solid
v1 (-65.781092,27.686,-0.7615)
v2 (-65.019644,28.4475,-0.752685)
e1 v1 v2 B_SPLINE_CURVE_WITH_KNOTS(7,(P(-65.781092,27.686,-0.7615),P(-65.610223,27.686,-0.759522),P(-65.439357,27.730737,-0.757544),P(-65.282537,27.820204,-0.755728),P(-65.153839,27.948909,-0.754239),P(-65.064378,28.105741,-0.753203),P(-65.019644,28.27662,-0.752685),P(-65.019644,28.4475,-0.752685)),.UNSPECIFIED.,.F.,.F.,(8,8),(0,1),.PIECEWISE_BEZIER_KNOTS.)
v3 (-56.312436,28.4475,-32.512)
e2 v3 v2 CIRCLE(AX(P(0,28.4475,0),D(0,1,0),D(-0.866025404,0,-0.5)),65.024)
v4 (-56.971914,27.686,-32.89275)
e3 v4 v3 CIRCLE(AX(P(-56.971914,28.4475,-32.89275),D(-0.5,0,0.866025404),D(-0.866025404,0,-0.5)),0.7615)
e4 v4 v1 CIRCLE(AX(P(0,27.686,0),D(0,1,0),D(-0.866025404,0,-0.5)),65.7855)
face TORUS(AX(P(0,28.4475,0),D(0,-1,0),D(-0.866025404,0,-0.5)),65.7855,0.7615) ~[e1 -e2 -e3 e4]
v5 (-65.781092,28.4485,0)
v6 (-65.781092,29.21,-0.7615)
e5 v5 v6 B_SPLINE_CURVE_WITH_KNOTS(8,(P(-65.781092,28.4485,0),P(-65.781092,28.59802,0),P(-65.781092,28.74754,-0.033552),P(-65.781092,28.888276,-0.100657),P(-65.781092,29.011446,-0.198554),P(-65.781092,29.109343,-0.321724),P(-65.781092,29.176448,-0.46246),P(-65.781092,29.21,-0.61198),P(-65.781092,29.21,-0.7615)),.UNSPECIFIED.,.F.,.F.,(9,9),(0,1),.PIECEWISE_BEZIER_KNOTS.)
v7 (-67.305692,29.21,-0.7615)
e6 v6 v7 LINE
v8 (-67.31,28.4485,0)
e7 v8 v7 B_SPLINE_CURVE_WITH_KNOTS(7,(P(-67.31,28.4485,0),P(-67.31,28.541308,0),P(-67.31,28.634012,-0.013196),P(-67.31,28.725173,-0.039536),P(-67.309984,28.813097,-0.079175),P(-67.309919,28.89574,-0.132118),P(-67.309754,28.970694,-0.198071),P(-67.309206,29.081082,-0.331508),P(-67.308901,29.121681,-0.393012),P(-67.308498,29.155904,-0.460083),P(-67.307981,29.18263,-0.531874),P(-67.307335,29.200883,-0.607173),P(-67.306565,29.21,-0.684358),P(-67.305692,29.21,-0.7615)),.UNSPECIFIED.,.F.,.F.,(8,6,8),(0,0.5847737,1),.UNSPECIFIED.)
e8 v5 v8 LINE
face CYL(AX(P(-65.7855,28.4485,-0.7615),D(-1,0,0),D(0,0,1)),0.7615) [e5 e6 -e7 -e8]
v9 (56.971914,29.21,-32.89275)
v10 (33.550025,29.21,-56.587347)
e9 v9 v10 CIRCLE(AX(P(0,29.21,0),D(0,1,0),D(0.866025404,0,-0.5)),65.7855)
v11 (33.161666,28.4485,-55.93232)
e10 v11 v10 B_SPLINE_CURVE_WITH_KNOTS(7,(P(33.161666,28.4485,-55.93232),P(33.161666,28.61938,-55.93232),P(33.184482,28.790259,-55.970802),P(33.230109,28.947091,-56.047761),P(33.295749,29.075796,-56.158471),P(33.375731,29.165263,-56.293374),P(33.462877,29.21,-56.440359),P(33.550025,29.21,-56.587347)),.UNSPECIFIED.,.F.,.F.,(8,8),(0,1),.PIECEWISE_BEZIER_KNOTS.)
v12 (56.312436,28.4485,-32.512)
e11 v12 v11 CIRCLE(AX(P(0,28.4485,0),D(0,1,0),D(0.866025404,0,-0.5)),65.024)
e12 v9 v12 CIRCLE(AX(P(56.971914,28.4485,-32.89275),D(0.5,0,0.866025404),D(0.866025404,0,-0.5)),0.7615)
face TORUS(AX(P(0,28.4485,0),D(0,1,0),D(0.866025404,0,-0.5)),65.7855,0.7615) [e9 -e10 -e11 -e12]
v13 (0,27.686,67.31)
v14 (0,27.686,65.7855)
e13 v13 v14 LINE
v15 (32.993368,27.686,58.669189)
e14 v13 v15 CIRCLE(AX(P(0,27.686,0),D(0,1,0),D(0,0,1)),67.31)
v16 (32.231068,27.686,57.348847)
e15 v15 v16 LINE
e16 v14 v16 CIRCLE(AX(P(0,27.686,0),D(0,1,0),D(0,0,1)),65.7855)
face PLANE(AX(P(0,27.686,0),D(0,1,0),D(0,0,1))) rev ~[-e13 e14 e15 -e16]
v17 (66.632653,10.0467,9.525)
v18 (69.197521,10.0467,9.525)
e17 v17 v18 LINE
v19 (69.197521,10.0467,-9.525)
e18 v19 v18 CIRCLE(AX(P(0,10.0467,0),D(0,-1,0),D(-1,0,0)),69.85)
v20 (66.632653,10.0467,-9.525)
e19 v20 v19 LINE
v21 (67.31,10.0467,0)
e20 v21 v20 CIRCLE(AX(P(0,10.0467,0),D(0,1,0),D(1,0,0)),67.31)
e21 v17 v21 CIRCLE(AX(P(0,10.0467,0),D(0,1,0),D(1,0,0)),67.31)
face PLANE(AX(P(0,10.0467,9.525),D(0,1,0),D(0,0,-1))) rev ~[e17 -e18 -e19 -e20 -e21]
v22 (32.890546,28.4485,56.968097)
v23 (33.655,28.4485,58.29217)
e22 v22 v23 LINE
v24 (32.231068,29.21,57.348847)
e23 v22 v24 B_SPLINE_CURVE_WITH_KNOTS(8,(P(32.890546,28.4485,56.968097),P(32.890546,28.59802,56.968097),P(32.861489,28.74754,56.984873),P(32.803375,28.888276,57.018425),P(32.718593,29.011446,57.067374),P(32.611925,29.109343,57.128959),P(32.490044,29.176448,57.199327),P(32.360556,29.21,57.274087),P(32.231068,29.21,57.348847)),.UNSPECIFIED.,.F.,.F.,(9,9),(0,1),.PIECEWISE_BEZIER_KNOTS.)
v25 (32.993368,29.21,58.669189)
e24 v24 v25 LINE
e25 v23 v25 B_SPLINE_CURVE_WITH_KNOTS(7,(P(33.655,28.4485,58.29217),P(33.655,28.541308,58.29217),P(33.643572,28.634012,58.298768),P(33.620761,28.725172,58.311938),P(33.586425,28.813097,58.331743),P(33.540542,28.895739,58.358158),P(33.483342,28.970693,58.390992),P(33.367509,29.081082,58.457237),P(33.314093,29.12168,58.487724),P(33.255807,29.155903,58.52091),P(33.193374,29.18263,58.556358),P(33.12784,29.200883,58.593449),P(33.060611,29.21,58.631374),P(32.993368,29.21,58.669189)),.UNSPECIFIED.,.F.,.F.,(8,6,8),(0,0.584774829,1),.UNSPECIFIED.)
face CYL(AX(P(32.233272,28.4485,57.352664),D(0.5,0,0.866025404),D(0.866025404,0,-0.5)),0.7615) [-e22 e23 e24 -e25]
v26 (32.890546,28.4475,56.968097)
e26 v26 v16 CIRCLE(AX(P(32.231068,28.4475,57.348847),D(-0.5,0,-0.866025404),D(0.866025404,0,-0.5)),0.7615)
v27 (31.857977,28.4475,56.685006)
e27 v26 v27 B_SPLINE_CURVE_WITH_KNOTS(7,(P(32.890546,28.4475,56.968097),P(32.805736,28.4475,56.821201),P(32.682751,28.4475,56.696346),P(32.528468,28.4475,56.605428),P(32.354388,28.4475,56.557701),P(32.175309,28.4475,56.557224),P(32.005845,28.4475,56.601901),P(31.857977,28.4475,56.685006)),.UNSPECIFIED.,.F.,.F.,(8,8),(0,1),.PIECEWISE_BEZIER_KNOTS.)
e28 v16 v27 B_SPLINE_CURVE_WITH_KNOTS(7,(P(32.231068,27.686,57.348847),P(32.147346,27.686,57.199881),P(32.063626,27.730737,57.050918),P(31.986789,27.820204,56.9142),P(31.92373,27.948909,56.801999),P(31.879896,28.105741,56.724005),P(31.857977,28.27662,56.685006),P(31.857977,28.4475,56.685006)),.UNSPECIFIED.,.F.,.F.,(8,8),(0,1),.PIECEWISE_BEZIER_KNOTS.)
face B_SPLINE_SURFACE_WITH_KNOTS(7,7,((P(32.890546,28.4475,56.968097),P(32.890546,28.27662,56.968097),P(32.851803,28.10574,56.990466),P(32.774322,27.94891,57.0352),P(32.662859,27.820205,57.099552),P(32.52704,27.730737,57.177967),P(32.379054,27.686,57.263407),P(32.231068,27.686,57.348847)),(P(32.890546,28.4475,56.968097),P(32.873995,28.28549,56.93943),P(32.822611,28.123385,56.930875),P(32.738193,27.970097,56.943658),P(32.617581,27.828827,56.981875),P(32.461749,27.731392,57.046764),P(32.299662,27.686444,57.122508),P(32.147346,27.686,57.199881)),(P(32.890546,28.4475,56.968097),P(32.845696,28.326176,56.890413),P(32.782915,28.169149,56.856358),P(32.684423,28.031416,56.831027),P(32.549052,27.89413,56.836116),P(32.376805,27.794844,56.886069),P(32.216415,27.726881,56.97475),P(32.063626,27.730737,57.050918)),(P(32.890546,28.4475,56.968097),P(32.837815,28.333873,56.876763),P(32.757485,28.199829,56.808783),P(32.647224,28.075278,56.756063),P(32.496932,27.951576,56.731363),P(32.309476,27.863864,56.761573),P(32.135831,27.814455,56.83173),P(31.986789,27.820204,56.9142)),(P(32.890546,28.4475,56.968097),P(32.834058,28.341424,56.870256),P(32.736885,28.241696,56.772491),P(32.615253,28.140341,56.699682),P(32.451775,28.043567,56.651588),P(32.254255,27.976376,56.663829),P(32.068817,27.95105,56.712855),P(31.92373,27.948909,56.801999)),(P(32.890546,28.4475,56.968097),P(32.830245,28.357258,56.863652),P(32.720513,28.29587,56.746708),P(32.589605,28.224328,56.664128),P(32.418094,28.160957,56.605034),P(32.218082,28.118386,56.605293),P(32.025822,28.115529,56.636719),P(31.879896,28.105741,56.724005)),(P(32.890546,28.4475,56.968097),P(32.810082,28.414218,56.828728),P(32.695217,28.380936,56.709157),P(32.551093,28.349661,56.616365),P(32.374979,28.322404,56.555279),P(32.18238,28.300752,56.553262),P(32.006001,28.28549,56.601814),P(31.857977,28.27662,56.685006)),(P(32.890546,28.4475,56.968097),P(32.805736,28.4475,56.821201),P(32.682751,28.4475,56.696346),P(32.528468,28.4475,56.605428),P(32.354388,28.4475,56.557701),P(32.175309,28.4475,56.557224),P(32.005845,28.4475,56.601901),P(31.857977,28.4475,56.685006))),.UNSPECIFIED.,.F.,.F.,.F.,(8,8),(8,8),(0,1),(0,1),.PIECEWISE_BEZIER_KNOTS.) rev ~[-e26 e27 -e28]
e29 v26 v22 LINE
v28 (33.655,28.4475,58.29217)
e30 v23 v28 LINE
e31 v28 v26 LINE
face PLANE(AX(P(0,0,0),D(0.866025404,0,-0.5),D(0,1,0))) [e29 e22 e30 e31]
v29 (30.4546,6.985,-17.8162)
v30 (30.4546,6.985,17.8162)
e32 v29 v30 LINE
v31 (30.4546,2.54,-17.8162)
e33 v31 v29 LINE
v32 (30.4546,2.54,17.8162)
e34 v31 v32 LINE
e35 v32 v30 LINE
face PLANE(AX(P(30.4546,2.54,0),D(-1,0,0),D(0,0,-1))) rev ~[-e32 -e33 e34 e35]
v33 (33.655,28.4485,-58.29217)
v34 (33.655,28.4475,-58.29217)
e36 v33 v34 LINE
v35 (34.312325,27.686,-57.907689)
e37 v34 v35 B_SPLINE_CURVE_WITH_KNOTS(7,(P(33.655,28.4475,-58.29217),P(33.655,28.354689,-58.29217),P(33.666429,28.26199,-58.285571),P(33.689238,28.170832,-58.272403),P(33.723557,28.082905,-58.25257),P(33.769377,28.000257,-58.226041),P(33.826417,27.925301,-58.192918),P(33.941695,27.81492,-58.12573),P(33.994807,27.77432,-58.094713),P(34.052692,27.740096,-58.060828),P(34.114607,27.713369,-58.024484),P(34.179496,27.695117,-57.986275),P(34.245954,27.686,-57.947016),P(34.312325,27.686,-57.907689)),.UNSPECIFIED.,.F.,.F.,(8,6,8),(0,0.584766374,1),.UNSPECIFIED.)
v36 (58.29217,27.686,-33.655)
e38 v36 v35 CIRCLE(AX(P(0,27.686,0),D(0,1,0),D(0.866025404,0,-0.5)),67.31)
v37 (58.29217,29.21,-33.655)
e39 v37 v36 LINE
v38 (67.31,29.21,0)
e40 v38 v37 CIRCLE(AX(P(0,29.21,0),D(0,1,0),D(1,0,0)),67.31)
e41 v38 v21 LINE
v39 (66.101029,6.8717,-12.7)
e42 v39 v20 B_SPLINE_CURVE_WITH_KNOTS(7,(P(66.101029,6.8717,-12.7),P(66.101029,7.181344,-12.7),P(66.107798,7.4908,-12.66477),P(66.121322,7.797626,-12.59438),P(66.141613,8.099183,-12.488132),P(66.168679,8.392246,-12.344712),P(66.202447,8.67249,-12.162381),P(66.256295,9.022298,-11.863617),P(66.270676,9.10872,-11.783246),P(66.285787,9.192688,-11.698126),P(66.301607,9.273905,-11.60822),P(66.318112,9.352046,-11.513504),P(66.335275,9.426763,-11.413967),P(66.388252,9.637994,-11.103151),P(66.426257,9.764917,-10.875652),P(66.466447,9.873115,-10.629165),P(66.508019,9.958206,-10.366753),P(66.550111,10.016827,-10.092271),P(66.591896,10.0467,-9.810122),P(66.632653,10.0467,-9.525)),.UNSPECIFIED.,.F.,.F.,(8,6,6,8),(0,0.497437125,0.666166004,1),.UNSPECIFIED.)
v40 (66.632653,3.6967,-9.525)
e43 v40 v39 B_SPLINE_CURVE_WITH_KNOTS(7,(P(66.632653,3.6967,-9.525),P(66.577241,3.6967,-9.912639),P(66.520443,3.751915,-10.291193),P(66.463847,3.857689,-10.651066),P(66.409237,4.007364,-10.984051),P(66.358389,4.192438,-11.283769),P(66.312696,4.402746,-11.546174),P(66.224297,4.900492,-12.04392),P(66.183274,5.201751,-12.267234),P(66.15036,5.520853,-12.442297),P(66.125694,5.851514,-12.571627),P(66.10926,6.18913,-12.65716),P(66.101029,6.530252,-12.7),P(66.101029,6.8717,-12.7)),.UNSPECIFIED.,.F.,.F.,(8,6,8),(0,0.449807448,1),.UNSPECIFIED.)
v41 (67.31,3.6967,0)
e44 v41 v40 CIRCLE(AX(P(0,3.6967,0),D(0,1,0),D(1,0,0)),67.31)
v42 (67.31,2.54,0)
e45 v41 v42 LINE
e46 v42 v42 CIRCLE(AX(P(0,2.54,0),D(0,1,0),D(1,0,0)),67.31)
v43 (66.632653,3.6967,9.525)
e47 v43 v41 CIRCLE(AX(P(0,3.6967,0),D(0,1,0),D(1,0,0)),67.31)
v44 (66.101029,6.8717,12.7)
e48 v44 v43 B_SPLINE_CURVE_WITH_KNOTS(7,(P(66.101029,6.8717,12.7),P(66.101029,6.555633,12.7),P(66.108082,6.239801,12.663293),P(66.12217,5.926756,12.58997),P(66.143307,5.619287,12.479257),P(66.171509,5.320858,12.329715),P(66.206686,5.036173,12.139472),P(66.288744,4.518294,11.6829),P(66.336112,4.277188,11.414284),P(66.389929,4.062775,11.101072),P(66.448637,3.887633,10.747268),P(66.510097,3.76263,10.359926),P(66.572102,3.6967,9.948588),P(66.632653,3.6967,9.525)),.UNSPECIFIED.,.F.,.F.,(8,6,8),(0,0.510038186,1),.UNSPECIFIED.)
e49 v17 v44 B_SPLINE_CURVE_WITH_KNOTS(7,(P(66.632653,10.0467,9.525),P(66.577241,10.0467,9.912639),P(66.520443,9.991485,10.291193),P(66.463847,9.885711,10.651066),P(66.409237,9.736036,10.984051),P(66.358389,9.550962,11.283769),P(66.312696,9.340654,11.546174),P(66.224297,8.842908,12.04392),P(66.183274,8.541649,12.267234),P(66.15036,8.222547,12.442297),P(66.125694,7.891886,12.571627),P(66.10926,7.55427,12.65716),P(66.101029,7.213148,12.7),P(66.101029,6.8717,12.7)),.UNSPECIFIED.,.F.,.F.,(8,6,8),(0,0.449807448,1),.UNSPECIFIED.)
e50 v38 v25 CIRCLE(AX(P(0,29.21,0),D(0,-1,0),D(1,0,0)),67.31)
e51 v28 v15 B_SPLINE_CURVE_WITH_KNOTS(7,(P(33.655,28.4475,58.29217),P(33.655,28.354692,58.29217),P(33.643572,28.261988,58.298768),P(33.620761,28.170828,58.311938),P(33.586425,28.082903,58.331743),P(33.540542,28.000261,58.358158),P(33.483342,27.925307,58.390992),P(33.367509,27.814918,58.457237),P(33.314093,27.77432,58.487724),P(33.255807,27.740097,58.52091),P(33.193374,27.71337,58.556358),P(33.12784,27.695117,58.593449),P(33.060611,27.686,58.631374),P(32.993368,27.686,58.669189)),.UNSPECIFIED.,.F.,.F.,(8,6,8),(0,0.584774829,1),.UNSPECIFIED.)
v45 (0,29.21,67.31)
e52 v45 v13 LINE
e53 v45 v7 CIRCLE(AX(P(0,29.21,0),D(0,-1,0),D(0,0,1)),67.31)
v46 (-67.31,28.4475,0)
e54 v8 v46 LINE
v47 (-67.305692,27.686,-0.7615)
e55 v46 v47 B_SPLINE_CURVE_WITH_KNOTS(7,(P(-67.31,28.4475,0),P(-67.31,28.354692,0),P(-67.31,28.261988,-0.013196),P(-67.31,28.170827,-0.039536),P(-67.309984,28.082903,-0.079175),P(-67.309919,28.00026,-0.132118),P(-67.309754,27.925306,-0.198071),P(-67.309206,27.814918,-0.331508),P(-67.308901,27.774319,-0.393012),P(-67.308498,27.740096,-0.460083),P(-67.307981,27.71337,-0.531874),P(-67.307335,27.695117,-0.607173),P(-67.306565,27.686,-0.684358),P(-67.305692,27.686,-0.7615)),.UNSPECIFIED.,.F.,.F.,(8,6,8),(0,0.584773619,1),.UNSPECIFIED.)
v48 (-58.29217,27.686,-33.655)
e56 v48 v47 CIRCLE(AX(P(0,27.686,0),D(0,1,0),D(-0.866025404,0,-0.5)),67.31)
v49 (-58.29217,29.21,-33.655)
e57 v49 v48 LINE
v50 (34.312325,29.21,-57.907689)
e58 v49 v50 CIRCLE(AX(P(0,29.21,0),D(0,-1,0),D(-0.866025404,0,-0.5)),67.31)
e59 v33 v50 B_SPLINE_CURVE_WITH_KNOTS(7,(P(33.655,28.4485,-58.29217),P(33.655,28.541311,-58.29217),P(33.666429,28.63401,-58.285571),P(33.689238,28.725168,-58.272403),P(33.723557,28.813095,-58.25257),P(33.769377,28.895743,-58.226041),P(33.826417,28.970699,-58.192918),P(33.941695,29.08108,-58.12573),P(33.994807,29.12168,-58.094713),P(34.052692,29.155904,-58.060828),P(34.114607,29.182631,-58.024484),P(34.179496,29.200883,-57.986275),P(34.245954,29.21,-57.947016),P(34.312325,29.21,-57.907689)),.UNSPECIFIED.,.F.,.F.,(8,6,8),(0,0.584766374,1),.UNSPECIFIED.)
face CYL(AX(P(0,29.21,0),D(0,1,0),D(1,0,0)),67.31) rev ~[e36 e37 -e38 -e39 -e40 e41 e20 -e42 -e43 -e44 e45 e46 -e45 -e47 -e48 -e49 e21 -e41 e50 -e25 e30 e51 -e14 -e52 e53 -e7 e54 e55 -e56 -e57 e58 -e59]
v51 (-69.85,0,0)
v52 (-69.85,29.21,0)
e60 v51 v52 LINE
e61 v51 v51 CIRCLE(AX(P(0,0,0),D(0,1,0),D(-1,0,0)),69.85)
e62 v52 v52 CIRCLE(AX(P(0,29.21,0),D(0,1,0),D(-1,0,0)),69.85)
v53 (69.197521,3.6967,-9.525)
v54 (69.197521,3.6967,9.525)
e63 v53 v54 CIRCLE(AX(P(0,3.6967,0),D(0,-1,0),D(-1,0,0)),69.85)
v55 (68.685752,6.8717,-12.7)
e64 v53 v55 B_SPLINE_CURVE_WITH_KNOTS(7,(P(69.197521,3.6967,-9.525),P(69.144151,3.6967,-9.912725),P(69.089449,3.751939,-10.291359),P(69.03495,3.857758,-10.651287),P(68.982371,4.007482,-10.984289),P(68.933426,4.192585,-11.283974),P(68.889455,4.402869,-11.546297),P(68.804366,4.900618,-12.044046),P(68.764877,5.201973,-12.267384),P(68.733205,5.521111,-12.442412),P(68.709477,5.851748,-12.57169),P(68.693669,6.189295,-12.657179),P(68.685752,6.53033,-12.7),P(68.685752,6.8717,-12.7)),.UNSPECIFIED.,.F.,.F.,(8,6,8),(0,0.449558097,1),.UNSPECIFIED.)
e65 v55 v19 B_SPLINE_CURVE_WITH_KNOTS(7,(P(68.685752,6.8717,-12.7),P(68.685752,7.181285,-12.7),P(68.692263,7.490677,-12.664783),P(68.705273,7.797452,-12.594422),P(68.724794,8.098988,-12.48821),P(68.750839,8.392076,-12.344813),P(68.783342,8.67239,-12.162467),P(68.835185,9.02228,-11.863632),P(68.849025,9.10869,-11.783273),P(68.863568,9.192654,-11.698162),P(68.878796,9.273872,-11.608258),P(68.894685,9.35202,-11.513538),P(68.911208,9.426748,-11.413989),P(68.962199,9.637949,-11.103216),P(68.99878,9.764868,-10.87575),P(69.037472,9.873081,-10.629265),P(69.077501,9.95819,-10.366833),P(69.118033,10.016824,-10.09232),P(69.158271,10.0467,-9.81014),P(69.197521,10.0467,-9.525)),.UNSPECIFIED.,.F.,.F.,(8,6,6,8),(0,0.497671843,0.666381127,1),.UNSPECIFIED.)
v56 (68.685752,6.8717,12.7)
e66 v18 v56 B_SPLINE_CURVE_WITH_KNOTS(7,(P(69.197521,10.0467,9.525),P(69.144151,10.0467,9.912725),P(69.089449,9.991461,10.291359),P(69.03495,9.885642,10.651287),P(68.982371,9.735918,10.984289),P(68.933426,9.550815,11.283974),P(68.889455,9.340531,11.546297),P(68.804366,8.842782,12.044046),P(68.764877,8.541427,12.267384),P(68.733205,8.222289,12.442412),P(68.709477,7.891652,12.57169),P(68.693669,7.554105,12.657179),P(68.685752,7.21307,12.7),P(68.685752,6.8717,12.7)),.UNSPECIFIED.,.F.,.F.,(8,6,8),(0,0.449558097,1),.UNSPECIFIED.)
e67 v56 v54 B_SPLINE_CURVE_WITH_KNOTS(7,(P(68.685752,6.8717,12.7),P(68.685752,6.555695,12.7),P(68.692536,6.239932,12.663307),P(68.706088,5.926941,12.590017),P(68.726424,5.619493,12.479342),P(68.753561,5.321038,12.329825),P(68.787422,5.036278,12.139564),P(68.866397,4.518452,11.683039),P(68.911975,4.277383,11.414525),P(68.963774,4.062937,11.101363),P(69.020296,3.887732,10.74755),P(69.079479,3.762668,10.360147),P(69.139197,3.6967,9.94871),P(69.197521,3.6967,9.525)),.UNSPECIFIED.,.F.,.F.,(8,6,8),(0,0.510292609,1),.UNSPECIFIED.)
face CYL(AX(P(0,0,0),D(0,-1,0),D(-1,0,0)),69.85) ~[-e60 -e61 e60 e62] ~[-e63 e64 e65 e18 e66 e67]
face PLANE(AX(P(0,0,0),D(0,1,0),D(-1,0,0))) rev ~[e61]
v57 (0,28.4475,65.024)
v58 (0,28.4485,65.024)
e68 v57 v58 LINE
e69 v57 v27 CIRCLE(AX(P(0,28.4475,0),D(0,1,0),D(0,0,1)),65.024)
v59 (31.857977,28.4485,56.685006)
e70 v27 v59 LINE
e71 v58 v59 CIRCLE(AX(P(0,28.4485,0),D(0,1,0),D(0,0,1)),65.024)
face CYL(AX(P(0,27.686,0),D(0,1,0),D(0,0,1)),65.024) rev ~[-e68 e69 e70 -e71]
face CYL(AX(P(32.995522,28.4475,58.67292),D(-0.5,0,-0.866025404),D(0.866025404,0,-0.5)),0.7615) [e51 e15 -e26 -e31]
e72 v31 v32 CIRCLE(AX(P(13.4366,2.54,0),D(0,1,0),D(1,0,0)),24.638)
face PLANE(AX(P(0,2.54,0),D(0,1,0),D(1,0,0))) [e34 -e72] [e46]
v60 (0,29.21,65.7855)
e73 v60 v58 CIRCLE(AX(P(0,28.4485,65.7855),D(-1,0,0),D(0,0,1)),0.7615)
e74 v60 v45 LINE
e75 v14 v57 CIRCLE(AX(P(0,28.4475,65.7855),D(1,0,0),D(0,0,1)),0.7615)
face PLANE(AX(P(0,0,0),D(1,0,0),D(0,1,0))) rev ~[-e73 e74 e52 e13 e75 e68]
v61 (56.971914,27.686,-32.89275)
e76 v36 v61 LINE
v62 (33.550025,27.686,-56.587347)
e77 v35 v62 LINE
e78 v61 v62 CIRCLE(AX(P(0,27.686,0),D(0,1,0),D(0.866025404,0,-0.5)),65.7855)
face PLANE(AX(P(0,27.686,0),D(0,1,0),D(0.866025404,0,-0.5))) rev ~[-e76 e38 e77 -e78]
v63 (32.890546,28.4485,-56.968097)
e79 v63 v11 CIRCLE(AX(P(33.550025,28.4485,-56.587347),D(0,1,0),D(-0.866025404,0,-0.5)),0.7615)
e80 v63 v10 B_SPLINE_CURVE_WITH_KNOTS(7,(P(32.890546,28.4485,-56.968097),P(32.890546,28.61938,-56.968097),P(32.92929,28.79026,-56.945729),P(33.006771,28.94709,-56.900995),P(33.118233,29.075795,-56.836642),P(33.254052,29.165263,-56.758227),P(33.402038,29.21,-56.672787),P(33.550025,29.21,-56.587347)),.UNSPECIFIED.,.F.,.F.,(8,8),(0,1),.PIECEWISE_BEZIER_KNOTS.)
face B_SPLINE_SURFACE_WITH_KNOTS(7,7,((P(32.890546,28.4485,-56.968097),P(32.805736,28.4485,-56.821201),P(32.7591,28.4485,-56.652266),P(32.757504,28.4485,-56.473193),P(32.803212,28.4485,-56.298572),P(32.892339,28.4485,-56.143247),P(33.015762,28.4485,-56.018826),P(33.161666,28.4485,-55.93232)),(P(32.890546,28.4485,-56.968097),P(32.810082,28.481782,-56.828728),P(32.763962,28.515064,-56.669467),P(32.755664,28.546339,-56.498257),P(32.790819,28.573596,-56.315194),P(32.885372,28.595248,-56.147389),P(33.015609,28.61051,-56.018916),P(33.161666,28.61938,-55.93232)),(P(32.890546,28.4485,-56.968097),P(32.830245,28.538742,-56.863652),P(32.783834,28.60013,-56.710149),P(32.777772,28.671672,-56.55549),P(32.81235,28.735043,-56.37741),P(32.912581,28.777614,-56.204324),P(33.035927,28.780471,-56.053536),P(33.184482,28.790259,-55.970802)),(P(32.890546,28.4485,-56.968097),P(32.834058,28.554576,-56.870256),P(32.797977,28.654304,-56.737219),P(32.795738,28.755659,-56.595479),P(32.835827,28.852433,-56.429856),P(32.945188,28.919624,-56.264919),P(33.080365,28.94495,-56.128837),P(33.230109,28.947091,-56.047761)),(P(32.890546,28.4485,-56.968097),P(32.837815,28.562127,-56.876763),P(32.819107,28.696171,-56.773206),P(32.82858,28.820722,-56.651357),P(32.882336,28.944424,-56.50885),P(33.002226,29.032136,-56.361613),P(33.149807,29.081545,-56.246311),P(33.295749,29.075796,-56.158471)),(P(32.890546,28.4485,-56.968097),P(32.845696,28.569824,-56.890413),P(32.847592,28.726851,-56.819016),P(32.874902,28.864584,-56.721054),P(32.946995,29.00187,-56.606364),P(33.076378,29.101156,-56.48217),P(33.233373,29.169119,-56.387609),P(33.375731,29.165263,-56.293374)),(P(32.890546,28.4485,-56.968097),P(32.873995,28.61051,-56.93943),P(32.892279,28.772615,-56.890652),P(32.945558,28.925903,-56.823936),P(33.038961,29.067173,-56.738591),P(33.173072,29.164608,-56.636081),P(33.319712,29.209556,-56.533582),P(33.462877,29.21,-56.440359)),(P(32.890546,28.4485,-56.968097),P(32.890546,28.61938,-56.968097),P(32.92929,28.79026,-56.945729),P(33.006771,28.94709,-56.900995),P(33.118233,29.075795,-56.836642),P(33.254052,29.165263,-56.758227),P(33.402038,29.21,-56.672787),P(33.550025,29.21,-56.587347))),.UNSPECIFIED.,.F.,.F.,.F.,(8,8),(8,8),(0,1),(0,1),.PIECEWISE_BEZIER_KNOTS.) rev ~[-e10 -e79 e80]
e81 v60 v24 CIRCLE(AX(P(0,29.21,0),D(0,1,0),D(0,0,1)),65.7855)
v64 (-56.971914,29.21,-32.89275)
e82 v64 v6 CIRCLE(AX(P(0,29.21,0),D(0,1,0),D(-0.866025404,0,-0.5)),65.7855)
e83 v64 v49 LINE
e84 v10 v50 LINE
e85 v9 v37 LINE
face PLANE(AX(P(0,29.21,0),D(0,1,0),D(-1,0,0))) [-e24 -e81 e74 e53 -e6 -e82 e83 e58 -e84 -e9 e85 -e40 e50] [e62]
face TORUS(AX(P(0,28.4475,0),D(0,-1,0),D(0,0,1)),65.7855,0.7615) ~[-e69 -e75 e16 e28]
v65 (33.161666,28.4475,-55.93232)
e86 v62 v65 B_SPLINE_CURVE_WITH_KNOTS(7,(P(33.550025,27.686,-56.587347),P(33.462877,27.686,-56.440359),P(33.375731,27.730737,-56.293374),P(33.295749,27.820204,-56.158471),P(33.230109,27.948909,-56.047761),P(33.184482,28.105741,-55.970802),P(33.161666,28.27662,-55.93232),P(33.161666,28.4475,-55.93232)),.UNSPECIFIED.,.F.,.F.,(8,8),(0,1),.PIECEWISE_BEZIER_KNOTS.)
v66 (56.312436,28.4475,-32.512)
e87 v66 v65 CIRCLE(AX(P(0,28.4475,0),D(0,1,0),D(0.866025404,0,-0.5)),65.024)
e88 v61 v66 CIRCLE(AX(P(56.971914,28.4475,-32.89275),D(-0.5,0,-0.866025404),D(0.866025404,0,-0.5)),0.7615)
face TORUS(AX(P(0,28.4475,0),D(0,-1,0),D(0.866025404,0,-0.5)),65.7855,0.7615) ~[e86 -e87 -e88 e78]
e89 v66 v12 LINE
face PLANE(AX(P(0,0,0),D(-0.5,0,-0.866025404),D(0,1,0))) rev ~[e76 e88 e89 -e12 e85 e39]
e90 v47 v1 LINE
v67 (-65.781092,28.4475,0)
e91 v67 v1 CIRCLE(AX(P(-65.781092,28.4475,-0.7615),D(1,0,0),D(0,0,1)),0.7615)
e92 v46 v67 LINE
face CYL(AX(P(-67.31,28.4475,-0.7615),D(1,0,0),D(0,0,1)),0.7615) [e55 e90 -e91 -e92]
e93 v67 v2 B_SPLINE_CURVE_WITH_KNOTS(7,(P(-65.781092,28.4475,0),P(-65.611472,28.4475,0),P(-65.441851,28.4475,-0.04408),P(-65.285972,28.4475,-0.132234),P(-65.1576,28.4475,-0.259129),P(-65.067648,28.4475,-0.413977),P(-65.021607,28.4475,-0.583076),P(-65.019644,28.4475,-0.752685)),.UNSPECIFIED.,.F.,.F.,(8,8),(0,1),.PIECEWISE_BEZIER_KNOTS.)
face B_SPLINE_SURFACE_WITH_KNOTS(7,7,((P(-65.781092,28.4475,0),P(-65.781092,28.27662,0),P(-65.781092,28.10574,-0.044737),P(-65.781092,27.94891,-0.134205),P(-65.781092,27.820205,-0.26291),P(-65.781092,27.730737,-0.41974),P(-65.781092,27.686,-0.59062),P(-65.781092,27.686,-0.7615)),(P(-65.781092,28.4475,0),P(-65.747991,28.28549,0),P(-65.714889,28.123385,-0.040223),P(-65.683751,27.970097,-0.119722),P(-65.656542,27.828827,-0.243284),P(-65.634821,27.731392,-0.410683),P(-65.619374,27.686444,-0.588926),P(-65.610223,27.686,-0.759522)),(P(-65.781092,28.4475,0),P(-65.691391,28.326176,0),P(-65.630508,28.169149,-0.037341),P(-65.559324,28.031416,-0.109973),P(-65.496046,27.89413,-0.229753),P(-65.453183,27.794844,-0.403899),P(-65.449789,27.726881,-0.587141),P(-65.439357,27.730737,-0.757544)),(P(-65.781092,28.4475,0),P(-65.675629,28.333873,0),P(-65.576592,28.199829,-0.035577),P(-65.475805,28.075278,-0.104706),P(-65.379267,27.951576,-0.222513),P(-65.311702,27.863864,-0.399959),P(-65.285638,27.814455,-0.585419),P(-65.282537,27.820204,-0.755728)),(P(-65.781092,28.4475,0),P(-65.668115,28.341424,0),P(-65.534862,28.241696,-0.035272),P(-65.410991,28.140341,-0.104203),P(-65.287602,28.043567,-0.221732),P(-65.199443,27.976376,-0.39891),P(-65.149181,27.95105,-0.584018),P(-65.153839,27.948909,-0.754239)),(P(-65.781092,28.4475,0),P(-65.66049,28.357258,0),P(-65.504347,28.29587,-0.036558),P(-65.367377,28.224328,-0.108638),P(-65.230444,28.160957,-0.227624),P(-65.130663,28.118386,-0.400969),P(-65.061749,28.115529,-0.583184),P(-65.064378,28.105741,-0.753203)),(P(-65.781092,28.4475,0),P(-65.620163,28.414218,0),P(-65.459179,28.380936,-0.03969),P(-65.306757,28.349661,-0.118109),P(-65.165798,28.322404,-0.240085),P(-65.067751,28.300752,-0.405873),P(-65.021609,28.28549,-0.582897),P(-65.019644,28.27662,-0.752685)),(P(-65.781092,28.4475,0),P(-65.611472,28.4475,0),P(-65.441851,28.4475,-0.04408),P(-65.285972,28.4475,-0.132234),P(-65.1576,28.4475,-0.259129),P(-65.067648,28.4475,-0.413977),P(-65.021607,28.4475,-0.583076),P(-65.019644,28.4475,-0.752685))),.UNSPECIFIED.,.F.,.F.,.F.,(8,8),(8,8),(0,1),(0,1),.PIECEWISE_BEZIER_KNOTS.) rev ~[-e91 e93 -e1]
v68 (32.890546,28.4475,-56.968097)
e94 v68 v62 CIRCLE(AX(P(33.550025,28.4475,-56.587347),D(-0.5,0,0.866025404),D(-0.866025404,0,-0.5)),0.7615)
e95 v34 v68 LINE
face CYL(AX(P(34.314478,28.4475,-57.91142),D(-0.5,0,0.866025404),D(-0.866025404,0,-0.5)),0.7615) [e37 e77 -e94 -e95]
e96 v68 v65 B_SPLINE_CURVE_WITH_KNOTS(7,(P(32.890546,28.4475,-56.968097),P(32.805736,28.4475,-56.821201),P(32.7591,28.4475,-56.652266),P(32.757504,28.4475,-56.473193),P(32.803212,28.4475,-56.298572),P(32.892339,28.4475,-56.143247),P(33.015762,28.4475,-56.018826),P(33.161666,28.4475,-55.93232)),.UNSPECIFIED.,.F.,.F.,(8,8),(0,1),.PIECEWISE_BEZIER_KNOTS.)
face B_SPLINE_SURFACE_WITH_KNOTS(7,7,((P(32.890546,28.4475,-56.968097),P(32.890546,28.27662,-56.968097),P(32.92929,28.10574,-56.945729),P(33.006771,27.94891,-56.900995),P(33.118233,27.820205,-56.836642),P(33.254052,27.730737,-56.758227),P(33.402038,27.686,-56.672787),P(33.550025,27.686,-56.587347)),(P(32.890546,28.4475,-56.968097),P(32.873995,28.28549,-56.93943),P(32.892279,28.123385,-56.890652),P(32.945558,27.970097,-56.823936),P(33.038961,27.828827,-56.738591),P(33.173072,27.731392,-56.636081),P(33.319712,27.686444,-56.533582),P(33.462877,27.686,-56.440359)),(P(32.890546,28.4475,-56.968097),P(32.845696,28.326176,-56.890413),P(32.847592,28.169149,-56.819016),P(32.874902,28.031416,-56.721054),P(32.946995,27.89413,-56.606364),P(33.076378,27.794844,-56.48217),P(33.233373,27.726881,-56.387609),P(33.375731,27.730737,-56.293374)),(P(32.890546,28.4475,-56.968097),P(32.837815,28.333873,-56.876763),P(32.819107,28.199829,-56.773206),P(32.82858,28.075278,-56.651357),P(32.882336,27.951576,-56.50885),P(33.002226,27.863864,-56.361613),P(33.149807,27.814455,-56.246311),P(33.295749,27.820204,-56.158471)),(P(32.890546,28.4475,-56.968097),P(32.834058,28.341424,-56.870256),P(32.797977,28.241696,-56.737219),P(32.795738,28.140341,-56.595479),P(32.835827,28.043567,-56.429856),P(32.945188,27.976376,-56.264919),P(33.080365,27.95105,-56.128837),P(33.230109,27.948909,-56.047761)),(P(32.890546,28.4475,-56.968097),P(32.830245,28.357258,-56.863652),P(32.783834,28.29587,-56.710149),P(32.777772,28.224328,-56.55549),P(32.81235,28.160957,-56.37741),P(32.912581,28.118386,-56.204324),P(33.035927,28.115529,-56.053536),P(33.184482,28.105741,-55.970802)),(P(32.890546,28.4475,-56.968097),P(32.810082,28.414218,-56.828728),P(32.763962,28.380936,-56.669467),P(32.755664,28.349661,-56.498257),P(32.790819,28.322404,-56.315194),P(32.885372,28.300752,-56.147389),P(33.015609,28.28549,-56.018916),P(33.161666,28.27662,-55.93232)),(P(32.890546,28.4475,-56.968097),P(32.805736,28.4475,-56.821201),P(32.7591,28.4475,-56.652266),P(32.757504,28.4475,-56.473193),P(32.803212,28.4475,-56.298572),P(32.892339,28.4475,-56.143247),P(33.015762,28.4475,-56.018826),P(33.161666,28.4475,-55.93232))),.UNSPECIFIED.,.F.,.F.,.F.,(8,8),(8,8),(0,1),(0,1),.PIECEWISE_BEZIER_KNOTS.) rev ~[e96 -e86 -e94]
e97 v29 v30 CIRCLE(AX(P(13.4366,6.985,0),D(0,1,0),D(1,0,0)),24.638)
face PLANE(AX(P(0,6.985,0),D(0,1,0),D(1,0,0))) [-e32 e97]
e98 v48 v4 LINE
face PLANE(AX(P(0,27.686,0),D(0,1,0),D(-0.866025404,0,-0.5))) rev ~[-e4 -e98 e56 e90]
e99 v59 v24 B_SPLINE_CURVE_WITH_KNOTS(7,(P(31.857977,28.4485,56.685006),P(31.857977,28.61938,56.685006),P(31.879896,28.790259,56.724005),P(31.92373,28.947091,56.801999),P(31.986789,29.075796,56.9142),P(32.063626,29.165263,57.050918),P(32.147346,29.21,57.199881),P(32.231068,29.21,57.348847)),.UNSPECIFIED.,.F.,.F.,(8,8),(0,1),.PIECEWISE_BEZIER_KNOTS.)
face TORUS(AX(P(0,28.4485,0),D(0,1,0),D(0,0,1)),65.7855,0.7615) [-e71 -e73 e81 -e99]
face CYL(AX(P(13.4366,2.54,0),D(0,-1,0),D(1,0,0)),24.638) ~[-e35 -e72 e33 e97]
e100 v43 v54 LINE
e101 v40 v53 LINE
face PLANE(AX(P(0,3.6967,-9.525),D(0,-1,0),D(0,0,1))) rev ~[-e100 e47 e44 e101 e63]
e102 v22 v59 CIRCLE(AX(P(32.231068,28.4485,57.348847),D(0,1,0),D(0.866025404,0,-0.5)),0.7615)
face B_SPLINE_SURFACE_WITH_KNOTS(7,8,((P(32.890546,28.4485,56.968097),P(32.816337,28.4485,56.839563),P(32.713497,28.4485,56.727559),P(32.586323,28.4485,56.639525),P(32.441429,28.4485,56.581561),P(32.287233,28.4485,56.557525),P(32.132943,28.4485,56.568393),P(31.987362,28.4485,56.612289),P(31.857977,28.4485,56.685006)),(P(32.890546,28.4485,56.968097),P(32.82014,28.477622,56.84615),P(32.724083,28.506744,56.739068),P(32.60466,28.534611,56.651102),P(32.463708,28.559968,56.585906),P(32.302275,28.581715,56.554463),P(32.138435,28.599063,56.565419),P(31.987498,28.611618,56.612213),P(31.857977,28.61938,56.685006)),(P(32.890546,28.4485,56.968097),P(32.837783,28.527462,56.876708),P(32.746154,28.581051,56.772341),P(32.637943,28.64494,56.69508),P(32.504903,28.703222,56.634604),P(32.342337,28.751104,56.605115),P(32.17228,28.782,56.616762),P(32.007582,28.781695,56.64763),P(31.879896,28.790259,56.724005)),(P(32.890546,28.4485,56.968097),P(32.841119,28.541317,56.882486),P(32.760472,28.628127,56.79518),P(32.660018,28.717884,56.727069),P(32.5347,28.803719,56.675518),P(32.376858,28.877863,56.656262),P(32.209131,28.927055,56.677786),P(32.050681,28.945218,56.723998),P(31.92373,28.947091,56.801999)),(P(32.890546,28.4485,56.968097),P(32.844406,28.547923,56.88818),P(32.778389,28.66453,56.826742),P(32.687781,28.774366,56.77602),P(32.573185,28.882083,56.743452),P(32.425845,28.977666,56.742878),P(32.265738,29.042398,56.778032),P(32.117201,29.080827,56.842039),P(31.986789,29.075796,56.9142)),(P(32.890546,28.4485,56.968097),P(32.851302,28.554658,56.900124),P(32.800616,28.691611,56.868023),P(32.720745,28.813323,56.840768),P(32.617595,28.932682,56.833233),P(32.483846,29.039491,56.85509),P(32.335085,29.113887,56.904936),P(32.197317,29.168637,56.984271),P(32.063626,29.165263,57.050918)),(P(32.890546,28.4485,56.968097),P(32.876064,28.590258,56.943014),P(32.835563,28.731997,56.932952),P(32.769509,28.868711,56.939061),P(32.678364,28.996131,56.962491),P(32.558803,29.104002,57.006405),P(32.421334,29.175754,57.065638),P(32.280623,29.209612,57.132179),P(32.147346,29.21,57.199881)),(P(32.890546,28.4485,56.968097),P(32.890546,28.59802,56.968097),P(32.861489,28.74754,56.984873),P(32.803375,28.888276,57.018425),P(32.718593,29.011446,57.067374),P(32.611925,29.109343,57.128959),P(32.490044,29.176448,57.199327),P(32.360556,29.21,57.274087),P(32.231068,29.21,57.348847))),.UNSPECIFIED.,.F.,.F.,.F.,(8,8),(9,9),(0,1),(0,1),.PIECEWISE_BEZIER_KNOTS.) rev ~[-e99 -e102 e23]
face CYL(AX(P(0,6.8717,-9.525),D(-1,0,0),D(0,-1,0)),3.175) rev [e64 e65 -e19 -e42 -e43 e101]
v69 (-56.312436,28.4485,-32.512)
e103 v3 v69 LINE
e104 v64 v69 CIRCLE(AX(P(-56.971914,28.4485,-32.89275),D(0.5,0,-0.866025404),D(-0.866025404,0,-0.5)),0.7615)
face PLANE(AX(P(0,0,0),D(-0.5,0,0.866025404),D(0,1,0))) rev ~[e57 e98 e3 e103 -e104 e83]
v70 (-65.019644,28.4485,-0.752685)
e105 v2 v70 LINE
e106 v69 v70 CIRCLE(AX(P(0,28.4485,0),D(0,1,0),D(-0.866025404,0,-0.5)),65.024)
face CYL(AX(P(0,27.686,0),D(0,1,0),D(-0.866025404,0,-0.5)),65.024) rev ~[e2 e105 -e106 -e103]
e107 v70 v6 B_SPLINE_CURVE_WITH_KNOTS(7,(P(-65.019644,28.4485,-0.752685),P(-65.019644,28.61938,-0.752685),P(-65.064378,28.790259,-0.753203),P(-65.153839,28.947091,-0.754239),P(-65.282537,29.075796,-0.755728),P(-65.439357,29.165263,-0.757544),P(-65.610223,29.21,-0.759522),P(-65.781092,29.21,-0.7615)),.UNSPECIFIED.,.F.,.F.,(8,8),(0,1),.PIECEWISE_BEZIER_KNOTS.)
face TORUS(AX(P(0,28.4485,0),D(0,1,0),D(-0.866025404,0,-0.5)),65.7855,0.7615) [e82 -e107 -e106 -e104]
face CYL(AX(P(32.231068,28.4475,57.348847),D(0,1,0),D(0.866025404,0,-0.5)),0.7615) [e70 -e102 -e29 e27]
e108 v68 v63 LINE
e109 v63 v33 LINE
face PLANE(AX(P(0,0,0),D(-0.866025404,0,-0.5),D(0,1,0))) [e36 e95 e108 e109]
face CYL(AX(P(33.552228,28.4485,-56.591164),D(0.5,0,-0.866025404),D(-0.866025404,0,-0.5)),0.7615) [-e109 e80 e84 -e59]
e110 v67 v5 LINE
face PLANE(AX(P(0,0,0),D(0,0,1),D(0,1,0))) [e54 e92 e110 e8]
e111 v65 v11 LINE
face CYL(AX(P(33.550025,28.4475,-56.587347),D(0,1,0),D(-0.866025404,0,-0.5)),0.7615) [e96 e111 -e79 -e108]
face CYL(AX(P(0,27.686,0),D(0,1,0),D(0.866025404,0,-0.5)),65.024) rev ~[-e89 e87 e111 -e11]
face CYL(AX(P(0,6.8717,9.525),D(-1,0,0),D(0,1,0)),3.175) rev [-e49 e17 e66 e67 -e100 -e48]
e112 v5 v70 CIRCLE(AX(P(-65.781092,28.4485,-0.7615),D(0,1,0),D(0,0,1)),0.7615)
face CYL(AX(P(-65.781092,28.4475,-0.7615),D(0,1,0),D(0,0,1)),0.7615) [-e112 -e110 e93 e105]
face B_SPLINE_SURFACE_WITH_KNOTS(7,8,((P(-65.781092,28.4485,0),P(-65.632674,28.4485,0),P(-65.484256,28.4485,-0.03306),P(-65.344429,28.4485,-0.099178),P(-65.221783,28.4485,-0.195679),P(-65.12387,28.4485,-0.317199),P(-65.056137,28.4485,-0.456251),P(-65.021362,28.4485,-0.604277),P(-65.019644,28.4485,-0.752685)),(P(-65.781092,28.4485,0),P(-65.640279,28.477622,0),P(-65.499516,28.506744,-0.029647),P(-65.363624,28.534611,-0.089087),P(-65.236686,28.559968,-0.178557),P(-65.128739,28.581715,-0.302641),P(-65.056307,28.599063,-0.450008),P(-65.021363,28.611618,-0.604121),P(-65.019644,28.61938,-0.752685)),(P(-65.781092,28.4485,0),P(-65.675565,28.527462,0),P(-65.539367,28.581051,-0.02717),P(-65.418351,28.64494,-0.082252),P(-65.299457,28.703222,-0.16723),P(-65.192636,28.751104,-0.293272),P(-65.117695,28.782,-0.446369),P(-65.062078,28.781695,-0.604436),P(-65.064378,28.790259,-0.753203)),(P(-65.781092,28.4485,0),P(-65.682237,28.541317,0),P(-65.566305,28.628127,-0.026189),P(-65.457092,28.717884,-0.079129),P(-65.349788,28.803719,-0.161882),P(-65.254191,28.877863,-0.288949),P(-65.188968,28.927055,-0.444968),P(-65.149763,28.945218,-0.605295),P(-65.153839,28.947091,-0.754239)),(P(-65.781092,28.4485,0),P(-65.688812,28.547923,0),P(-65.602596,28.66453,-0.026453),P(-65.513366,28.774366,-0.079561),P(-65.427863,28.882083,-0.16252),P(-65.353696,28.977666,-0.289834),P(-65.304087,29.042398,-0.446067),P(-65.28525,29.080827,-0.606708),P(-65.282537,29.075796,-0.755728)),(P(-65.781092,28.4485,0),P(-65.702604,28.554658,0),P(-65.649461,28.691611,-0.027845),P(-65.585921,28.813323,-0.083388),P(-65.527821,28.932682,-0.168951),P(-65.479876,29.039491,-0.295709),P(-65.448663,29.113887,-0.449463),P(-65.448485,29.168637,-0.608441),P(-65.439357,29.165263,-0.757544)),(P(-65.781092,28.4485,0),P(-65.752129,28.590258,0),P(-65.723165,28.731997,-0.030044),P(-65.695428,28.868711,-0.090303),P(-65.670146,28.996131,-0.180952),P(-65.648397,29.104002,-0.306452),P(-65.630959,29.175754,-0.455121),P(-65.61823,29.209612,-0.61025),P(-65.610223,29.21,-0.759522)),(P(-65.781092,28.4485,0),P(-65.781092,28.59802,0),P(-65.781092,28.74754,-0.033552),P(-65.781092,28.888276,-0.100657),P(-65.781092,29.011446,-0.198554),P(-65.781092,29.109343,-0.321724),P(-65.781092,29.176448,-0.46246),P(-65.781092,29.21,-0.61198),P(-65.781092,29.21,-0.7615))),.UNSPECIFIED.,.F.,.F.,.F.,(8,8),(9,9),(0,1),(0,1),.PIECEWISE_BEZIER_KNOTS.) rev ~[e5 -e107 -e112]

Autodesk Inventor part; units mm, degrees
ref_plane "YZ Plane" through (0, 0, 0) normal (1, 0, 0) x (0, 1, 0)
ref_plane "XZ Plane" through (0, 0, 0) normal (0, 1, 0) x (-1, 0, 0)
ref_plane "XY Plane" through (0, 0, 0) normal (0, 0, 1) x (1, 0, 0)
sketch "Sketch1" plane through (0, 0, 0) normal (0, 1, 0) x (-1, 0, 0)
  circle A0 centre (0, 0) radius 69.85
  dimension "d0" = 139.7
extrude "Extrusion1" add sketch "Sketch1" along normal blind 29.21
sketch "Sketch3" plane through (0, 29.21, 0) normal (0, 1, 0) x (1, 0, 0)
  circle A0 centre (0, 0) radius 67.31
  dimension "d5" = 134.62
extrude "Extrusion2" cut sketch "Sketch3" against normal blind 26.67
sketch "Sketch6" plane through (0, 0, 0) normal (1, 0, 0) x (0, 1, 0)
  line L0 (29.21, 67.31) -> (2.54, 67.31) projected
  line L1 (29.21, 67.31) -> (27.686, 67.31)
  line L2 (27.686, 67.31) -> (27.686, 65.024)
  line L3 (27.686, 65.024) -> (29.21, 65.024)
  line L4 (29.21, 65.024) -> (29.21, 67.31)
  line L5 (-5.842, 0) -> (35.052, 0) projected
  line L6 (29.21, -69.85) -> (29.21, 69.85) projected
  point P0 (0, 0)
  dimension "d21" = 1.524
  dimension "d22" = 2.286
  dimension "d36" = 0
revolve "Revolution1" add sketch "Sketch6" angle 30 about axis through (0, -10, 0) along (0, 1, 0)
fillet "Fillet2" radius 0.762 2 edges at (16.8294, 27.686, 62.8084) (16.8294, 29.21, 62.8084)
fillet "Fillet3" radius 0.762 3 edges at (32.6235, 27.909, 56.5056) (33.2739, 29.21, 57.632) (33.2739, 27.686, 57.632)
pattern_circular "Circular Pattern1" count 3 over 360 about axis through (0, 0, 0) along (0, 1, 0) of "Revolution1", "Fillet2", "Fillet3"
sketch "Sketch9" plane through (0, 0, 0) normal (1, 0, 0) x (0, 1, 0)
  circle A0 centre (6.8717, 0) radius 3.175 construction
  line L0 (6.8717, 0) -> (6.8717, -12.7) construction
  line L1 (6.8717, 0) -> (6.8717, 12.7) construction
  line L2 (6.8717, -12.7) -> (6.8717, -12.7)
  line L3 (3.6967, -9.525) -> (3.6967, 9.525)
  line L4 (6.8717, 12.7) -> (6.8717, 12.7)
  line L5 (10.0467, 9.525) -> (10.0467, -9.525)
  arc A1 (6.8717, -12.7) -> (10.0467, -9.525) centre (6.8717, -9.525) ccw
  arc A2 (3.6967, -9.525) -> (6.8717, -12.7) centre (6.8717, -9.525) ccw
  arc A3 (6.8717, 12.7) -> (3.6967, 9.525) centre (6.8717, 9.525) ccw
  arc A4 (10.0467, 9.525) -> (6.8717, 12.7) centre (6.8717, 9.525) ccw
  point P0 (0, 0)
  dimension "d37" = 6.35
  dimension "d48" = 12.7
  dimension "d49" = 12.7
  dimension "d50" = 3.175
extrude "Extrusion9" cut sketch "Sketch9" along normal through all
sketch "Sketch20" plane through (0, 2.54, 0) normal (0, 1, 0) x (1, 0, 0)
  circle A0 centre (0, 0) radius 3.4925
  circle A1 centre (13.4366, 0) radius 24.638
  line L0 (38.0746, 0) -> (30.4546, 0) construction
  line L1 (30.4546, 0) -> (30.4546, -17.8162)
  line L2 (30.4546, 0) -> (30.4546, 17.8162)
  dimension "d70" = 6.985
  dimension "d71" = 49.276
  dimension "d72" = 13.4366
  dimension "d73" = 7.62
extrude "Extrusion13" add sketch "Sketch20" along normal blind 4.445 contours A0 | L2 L1 A1 picked at (19.7197, -7.6808)
properties part number "bottom_basket_2"
